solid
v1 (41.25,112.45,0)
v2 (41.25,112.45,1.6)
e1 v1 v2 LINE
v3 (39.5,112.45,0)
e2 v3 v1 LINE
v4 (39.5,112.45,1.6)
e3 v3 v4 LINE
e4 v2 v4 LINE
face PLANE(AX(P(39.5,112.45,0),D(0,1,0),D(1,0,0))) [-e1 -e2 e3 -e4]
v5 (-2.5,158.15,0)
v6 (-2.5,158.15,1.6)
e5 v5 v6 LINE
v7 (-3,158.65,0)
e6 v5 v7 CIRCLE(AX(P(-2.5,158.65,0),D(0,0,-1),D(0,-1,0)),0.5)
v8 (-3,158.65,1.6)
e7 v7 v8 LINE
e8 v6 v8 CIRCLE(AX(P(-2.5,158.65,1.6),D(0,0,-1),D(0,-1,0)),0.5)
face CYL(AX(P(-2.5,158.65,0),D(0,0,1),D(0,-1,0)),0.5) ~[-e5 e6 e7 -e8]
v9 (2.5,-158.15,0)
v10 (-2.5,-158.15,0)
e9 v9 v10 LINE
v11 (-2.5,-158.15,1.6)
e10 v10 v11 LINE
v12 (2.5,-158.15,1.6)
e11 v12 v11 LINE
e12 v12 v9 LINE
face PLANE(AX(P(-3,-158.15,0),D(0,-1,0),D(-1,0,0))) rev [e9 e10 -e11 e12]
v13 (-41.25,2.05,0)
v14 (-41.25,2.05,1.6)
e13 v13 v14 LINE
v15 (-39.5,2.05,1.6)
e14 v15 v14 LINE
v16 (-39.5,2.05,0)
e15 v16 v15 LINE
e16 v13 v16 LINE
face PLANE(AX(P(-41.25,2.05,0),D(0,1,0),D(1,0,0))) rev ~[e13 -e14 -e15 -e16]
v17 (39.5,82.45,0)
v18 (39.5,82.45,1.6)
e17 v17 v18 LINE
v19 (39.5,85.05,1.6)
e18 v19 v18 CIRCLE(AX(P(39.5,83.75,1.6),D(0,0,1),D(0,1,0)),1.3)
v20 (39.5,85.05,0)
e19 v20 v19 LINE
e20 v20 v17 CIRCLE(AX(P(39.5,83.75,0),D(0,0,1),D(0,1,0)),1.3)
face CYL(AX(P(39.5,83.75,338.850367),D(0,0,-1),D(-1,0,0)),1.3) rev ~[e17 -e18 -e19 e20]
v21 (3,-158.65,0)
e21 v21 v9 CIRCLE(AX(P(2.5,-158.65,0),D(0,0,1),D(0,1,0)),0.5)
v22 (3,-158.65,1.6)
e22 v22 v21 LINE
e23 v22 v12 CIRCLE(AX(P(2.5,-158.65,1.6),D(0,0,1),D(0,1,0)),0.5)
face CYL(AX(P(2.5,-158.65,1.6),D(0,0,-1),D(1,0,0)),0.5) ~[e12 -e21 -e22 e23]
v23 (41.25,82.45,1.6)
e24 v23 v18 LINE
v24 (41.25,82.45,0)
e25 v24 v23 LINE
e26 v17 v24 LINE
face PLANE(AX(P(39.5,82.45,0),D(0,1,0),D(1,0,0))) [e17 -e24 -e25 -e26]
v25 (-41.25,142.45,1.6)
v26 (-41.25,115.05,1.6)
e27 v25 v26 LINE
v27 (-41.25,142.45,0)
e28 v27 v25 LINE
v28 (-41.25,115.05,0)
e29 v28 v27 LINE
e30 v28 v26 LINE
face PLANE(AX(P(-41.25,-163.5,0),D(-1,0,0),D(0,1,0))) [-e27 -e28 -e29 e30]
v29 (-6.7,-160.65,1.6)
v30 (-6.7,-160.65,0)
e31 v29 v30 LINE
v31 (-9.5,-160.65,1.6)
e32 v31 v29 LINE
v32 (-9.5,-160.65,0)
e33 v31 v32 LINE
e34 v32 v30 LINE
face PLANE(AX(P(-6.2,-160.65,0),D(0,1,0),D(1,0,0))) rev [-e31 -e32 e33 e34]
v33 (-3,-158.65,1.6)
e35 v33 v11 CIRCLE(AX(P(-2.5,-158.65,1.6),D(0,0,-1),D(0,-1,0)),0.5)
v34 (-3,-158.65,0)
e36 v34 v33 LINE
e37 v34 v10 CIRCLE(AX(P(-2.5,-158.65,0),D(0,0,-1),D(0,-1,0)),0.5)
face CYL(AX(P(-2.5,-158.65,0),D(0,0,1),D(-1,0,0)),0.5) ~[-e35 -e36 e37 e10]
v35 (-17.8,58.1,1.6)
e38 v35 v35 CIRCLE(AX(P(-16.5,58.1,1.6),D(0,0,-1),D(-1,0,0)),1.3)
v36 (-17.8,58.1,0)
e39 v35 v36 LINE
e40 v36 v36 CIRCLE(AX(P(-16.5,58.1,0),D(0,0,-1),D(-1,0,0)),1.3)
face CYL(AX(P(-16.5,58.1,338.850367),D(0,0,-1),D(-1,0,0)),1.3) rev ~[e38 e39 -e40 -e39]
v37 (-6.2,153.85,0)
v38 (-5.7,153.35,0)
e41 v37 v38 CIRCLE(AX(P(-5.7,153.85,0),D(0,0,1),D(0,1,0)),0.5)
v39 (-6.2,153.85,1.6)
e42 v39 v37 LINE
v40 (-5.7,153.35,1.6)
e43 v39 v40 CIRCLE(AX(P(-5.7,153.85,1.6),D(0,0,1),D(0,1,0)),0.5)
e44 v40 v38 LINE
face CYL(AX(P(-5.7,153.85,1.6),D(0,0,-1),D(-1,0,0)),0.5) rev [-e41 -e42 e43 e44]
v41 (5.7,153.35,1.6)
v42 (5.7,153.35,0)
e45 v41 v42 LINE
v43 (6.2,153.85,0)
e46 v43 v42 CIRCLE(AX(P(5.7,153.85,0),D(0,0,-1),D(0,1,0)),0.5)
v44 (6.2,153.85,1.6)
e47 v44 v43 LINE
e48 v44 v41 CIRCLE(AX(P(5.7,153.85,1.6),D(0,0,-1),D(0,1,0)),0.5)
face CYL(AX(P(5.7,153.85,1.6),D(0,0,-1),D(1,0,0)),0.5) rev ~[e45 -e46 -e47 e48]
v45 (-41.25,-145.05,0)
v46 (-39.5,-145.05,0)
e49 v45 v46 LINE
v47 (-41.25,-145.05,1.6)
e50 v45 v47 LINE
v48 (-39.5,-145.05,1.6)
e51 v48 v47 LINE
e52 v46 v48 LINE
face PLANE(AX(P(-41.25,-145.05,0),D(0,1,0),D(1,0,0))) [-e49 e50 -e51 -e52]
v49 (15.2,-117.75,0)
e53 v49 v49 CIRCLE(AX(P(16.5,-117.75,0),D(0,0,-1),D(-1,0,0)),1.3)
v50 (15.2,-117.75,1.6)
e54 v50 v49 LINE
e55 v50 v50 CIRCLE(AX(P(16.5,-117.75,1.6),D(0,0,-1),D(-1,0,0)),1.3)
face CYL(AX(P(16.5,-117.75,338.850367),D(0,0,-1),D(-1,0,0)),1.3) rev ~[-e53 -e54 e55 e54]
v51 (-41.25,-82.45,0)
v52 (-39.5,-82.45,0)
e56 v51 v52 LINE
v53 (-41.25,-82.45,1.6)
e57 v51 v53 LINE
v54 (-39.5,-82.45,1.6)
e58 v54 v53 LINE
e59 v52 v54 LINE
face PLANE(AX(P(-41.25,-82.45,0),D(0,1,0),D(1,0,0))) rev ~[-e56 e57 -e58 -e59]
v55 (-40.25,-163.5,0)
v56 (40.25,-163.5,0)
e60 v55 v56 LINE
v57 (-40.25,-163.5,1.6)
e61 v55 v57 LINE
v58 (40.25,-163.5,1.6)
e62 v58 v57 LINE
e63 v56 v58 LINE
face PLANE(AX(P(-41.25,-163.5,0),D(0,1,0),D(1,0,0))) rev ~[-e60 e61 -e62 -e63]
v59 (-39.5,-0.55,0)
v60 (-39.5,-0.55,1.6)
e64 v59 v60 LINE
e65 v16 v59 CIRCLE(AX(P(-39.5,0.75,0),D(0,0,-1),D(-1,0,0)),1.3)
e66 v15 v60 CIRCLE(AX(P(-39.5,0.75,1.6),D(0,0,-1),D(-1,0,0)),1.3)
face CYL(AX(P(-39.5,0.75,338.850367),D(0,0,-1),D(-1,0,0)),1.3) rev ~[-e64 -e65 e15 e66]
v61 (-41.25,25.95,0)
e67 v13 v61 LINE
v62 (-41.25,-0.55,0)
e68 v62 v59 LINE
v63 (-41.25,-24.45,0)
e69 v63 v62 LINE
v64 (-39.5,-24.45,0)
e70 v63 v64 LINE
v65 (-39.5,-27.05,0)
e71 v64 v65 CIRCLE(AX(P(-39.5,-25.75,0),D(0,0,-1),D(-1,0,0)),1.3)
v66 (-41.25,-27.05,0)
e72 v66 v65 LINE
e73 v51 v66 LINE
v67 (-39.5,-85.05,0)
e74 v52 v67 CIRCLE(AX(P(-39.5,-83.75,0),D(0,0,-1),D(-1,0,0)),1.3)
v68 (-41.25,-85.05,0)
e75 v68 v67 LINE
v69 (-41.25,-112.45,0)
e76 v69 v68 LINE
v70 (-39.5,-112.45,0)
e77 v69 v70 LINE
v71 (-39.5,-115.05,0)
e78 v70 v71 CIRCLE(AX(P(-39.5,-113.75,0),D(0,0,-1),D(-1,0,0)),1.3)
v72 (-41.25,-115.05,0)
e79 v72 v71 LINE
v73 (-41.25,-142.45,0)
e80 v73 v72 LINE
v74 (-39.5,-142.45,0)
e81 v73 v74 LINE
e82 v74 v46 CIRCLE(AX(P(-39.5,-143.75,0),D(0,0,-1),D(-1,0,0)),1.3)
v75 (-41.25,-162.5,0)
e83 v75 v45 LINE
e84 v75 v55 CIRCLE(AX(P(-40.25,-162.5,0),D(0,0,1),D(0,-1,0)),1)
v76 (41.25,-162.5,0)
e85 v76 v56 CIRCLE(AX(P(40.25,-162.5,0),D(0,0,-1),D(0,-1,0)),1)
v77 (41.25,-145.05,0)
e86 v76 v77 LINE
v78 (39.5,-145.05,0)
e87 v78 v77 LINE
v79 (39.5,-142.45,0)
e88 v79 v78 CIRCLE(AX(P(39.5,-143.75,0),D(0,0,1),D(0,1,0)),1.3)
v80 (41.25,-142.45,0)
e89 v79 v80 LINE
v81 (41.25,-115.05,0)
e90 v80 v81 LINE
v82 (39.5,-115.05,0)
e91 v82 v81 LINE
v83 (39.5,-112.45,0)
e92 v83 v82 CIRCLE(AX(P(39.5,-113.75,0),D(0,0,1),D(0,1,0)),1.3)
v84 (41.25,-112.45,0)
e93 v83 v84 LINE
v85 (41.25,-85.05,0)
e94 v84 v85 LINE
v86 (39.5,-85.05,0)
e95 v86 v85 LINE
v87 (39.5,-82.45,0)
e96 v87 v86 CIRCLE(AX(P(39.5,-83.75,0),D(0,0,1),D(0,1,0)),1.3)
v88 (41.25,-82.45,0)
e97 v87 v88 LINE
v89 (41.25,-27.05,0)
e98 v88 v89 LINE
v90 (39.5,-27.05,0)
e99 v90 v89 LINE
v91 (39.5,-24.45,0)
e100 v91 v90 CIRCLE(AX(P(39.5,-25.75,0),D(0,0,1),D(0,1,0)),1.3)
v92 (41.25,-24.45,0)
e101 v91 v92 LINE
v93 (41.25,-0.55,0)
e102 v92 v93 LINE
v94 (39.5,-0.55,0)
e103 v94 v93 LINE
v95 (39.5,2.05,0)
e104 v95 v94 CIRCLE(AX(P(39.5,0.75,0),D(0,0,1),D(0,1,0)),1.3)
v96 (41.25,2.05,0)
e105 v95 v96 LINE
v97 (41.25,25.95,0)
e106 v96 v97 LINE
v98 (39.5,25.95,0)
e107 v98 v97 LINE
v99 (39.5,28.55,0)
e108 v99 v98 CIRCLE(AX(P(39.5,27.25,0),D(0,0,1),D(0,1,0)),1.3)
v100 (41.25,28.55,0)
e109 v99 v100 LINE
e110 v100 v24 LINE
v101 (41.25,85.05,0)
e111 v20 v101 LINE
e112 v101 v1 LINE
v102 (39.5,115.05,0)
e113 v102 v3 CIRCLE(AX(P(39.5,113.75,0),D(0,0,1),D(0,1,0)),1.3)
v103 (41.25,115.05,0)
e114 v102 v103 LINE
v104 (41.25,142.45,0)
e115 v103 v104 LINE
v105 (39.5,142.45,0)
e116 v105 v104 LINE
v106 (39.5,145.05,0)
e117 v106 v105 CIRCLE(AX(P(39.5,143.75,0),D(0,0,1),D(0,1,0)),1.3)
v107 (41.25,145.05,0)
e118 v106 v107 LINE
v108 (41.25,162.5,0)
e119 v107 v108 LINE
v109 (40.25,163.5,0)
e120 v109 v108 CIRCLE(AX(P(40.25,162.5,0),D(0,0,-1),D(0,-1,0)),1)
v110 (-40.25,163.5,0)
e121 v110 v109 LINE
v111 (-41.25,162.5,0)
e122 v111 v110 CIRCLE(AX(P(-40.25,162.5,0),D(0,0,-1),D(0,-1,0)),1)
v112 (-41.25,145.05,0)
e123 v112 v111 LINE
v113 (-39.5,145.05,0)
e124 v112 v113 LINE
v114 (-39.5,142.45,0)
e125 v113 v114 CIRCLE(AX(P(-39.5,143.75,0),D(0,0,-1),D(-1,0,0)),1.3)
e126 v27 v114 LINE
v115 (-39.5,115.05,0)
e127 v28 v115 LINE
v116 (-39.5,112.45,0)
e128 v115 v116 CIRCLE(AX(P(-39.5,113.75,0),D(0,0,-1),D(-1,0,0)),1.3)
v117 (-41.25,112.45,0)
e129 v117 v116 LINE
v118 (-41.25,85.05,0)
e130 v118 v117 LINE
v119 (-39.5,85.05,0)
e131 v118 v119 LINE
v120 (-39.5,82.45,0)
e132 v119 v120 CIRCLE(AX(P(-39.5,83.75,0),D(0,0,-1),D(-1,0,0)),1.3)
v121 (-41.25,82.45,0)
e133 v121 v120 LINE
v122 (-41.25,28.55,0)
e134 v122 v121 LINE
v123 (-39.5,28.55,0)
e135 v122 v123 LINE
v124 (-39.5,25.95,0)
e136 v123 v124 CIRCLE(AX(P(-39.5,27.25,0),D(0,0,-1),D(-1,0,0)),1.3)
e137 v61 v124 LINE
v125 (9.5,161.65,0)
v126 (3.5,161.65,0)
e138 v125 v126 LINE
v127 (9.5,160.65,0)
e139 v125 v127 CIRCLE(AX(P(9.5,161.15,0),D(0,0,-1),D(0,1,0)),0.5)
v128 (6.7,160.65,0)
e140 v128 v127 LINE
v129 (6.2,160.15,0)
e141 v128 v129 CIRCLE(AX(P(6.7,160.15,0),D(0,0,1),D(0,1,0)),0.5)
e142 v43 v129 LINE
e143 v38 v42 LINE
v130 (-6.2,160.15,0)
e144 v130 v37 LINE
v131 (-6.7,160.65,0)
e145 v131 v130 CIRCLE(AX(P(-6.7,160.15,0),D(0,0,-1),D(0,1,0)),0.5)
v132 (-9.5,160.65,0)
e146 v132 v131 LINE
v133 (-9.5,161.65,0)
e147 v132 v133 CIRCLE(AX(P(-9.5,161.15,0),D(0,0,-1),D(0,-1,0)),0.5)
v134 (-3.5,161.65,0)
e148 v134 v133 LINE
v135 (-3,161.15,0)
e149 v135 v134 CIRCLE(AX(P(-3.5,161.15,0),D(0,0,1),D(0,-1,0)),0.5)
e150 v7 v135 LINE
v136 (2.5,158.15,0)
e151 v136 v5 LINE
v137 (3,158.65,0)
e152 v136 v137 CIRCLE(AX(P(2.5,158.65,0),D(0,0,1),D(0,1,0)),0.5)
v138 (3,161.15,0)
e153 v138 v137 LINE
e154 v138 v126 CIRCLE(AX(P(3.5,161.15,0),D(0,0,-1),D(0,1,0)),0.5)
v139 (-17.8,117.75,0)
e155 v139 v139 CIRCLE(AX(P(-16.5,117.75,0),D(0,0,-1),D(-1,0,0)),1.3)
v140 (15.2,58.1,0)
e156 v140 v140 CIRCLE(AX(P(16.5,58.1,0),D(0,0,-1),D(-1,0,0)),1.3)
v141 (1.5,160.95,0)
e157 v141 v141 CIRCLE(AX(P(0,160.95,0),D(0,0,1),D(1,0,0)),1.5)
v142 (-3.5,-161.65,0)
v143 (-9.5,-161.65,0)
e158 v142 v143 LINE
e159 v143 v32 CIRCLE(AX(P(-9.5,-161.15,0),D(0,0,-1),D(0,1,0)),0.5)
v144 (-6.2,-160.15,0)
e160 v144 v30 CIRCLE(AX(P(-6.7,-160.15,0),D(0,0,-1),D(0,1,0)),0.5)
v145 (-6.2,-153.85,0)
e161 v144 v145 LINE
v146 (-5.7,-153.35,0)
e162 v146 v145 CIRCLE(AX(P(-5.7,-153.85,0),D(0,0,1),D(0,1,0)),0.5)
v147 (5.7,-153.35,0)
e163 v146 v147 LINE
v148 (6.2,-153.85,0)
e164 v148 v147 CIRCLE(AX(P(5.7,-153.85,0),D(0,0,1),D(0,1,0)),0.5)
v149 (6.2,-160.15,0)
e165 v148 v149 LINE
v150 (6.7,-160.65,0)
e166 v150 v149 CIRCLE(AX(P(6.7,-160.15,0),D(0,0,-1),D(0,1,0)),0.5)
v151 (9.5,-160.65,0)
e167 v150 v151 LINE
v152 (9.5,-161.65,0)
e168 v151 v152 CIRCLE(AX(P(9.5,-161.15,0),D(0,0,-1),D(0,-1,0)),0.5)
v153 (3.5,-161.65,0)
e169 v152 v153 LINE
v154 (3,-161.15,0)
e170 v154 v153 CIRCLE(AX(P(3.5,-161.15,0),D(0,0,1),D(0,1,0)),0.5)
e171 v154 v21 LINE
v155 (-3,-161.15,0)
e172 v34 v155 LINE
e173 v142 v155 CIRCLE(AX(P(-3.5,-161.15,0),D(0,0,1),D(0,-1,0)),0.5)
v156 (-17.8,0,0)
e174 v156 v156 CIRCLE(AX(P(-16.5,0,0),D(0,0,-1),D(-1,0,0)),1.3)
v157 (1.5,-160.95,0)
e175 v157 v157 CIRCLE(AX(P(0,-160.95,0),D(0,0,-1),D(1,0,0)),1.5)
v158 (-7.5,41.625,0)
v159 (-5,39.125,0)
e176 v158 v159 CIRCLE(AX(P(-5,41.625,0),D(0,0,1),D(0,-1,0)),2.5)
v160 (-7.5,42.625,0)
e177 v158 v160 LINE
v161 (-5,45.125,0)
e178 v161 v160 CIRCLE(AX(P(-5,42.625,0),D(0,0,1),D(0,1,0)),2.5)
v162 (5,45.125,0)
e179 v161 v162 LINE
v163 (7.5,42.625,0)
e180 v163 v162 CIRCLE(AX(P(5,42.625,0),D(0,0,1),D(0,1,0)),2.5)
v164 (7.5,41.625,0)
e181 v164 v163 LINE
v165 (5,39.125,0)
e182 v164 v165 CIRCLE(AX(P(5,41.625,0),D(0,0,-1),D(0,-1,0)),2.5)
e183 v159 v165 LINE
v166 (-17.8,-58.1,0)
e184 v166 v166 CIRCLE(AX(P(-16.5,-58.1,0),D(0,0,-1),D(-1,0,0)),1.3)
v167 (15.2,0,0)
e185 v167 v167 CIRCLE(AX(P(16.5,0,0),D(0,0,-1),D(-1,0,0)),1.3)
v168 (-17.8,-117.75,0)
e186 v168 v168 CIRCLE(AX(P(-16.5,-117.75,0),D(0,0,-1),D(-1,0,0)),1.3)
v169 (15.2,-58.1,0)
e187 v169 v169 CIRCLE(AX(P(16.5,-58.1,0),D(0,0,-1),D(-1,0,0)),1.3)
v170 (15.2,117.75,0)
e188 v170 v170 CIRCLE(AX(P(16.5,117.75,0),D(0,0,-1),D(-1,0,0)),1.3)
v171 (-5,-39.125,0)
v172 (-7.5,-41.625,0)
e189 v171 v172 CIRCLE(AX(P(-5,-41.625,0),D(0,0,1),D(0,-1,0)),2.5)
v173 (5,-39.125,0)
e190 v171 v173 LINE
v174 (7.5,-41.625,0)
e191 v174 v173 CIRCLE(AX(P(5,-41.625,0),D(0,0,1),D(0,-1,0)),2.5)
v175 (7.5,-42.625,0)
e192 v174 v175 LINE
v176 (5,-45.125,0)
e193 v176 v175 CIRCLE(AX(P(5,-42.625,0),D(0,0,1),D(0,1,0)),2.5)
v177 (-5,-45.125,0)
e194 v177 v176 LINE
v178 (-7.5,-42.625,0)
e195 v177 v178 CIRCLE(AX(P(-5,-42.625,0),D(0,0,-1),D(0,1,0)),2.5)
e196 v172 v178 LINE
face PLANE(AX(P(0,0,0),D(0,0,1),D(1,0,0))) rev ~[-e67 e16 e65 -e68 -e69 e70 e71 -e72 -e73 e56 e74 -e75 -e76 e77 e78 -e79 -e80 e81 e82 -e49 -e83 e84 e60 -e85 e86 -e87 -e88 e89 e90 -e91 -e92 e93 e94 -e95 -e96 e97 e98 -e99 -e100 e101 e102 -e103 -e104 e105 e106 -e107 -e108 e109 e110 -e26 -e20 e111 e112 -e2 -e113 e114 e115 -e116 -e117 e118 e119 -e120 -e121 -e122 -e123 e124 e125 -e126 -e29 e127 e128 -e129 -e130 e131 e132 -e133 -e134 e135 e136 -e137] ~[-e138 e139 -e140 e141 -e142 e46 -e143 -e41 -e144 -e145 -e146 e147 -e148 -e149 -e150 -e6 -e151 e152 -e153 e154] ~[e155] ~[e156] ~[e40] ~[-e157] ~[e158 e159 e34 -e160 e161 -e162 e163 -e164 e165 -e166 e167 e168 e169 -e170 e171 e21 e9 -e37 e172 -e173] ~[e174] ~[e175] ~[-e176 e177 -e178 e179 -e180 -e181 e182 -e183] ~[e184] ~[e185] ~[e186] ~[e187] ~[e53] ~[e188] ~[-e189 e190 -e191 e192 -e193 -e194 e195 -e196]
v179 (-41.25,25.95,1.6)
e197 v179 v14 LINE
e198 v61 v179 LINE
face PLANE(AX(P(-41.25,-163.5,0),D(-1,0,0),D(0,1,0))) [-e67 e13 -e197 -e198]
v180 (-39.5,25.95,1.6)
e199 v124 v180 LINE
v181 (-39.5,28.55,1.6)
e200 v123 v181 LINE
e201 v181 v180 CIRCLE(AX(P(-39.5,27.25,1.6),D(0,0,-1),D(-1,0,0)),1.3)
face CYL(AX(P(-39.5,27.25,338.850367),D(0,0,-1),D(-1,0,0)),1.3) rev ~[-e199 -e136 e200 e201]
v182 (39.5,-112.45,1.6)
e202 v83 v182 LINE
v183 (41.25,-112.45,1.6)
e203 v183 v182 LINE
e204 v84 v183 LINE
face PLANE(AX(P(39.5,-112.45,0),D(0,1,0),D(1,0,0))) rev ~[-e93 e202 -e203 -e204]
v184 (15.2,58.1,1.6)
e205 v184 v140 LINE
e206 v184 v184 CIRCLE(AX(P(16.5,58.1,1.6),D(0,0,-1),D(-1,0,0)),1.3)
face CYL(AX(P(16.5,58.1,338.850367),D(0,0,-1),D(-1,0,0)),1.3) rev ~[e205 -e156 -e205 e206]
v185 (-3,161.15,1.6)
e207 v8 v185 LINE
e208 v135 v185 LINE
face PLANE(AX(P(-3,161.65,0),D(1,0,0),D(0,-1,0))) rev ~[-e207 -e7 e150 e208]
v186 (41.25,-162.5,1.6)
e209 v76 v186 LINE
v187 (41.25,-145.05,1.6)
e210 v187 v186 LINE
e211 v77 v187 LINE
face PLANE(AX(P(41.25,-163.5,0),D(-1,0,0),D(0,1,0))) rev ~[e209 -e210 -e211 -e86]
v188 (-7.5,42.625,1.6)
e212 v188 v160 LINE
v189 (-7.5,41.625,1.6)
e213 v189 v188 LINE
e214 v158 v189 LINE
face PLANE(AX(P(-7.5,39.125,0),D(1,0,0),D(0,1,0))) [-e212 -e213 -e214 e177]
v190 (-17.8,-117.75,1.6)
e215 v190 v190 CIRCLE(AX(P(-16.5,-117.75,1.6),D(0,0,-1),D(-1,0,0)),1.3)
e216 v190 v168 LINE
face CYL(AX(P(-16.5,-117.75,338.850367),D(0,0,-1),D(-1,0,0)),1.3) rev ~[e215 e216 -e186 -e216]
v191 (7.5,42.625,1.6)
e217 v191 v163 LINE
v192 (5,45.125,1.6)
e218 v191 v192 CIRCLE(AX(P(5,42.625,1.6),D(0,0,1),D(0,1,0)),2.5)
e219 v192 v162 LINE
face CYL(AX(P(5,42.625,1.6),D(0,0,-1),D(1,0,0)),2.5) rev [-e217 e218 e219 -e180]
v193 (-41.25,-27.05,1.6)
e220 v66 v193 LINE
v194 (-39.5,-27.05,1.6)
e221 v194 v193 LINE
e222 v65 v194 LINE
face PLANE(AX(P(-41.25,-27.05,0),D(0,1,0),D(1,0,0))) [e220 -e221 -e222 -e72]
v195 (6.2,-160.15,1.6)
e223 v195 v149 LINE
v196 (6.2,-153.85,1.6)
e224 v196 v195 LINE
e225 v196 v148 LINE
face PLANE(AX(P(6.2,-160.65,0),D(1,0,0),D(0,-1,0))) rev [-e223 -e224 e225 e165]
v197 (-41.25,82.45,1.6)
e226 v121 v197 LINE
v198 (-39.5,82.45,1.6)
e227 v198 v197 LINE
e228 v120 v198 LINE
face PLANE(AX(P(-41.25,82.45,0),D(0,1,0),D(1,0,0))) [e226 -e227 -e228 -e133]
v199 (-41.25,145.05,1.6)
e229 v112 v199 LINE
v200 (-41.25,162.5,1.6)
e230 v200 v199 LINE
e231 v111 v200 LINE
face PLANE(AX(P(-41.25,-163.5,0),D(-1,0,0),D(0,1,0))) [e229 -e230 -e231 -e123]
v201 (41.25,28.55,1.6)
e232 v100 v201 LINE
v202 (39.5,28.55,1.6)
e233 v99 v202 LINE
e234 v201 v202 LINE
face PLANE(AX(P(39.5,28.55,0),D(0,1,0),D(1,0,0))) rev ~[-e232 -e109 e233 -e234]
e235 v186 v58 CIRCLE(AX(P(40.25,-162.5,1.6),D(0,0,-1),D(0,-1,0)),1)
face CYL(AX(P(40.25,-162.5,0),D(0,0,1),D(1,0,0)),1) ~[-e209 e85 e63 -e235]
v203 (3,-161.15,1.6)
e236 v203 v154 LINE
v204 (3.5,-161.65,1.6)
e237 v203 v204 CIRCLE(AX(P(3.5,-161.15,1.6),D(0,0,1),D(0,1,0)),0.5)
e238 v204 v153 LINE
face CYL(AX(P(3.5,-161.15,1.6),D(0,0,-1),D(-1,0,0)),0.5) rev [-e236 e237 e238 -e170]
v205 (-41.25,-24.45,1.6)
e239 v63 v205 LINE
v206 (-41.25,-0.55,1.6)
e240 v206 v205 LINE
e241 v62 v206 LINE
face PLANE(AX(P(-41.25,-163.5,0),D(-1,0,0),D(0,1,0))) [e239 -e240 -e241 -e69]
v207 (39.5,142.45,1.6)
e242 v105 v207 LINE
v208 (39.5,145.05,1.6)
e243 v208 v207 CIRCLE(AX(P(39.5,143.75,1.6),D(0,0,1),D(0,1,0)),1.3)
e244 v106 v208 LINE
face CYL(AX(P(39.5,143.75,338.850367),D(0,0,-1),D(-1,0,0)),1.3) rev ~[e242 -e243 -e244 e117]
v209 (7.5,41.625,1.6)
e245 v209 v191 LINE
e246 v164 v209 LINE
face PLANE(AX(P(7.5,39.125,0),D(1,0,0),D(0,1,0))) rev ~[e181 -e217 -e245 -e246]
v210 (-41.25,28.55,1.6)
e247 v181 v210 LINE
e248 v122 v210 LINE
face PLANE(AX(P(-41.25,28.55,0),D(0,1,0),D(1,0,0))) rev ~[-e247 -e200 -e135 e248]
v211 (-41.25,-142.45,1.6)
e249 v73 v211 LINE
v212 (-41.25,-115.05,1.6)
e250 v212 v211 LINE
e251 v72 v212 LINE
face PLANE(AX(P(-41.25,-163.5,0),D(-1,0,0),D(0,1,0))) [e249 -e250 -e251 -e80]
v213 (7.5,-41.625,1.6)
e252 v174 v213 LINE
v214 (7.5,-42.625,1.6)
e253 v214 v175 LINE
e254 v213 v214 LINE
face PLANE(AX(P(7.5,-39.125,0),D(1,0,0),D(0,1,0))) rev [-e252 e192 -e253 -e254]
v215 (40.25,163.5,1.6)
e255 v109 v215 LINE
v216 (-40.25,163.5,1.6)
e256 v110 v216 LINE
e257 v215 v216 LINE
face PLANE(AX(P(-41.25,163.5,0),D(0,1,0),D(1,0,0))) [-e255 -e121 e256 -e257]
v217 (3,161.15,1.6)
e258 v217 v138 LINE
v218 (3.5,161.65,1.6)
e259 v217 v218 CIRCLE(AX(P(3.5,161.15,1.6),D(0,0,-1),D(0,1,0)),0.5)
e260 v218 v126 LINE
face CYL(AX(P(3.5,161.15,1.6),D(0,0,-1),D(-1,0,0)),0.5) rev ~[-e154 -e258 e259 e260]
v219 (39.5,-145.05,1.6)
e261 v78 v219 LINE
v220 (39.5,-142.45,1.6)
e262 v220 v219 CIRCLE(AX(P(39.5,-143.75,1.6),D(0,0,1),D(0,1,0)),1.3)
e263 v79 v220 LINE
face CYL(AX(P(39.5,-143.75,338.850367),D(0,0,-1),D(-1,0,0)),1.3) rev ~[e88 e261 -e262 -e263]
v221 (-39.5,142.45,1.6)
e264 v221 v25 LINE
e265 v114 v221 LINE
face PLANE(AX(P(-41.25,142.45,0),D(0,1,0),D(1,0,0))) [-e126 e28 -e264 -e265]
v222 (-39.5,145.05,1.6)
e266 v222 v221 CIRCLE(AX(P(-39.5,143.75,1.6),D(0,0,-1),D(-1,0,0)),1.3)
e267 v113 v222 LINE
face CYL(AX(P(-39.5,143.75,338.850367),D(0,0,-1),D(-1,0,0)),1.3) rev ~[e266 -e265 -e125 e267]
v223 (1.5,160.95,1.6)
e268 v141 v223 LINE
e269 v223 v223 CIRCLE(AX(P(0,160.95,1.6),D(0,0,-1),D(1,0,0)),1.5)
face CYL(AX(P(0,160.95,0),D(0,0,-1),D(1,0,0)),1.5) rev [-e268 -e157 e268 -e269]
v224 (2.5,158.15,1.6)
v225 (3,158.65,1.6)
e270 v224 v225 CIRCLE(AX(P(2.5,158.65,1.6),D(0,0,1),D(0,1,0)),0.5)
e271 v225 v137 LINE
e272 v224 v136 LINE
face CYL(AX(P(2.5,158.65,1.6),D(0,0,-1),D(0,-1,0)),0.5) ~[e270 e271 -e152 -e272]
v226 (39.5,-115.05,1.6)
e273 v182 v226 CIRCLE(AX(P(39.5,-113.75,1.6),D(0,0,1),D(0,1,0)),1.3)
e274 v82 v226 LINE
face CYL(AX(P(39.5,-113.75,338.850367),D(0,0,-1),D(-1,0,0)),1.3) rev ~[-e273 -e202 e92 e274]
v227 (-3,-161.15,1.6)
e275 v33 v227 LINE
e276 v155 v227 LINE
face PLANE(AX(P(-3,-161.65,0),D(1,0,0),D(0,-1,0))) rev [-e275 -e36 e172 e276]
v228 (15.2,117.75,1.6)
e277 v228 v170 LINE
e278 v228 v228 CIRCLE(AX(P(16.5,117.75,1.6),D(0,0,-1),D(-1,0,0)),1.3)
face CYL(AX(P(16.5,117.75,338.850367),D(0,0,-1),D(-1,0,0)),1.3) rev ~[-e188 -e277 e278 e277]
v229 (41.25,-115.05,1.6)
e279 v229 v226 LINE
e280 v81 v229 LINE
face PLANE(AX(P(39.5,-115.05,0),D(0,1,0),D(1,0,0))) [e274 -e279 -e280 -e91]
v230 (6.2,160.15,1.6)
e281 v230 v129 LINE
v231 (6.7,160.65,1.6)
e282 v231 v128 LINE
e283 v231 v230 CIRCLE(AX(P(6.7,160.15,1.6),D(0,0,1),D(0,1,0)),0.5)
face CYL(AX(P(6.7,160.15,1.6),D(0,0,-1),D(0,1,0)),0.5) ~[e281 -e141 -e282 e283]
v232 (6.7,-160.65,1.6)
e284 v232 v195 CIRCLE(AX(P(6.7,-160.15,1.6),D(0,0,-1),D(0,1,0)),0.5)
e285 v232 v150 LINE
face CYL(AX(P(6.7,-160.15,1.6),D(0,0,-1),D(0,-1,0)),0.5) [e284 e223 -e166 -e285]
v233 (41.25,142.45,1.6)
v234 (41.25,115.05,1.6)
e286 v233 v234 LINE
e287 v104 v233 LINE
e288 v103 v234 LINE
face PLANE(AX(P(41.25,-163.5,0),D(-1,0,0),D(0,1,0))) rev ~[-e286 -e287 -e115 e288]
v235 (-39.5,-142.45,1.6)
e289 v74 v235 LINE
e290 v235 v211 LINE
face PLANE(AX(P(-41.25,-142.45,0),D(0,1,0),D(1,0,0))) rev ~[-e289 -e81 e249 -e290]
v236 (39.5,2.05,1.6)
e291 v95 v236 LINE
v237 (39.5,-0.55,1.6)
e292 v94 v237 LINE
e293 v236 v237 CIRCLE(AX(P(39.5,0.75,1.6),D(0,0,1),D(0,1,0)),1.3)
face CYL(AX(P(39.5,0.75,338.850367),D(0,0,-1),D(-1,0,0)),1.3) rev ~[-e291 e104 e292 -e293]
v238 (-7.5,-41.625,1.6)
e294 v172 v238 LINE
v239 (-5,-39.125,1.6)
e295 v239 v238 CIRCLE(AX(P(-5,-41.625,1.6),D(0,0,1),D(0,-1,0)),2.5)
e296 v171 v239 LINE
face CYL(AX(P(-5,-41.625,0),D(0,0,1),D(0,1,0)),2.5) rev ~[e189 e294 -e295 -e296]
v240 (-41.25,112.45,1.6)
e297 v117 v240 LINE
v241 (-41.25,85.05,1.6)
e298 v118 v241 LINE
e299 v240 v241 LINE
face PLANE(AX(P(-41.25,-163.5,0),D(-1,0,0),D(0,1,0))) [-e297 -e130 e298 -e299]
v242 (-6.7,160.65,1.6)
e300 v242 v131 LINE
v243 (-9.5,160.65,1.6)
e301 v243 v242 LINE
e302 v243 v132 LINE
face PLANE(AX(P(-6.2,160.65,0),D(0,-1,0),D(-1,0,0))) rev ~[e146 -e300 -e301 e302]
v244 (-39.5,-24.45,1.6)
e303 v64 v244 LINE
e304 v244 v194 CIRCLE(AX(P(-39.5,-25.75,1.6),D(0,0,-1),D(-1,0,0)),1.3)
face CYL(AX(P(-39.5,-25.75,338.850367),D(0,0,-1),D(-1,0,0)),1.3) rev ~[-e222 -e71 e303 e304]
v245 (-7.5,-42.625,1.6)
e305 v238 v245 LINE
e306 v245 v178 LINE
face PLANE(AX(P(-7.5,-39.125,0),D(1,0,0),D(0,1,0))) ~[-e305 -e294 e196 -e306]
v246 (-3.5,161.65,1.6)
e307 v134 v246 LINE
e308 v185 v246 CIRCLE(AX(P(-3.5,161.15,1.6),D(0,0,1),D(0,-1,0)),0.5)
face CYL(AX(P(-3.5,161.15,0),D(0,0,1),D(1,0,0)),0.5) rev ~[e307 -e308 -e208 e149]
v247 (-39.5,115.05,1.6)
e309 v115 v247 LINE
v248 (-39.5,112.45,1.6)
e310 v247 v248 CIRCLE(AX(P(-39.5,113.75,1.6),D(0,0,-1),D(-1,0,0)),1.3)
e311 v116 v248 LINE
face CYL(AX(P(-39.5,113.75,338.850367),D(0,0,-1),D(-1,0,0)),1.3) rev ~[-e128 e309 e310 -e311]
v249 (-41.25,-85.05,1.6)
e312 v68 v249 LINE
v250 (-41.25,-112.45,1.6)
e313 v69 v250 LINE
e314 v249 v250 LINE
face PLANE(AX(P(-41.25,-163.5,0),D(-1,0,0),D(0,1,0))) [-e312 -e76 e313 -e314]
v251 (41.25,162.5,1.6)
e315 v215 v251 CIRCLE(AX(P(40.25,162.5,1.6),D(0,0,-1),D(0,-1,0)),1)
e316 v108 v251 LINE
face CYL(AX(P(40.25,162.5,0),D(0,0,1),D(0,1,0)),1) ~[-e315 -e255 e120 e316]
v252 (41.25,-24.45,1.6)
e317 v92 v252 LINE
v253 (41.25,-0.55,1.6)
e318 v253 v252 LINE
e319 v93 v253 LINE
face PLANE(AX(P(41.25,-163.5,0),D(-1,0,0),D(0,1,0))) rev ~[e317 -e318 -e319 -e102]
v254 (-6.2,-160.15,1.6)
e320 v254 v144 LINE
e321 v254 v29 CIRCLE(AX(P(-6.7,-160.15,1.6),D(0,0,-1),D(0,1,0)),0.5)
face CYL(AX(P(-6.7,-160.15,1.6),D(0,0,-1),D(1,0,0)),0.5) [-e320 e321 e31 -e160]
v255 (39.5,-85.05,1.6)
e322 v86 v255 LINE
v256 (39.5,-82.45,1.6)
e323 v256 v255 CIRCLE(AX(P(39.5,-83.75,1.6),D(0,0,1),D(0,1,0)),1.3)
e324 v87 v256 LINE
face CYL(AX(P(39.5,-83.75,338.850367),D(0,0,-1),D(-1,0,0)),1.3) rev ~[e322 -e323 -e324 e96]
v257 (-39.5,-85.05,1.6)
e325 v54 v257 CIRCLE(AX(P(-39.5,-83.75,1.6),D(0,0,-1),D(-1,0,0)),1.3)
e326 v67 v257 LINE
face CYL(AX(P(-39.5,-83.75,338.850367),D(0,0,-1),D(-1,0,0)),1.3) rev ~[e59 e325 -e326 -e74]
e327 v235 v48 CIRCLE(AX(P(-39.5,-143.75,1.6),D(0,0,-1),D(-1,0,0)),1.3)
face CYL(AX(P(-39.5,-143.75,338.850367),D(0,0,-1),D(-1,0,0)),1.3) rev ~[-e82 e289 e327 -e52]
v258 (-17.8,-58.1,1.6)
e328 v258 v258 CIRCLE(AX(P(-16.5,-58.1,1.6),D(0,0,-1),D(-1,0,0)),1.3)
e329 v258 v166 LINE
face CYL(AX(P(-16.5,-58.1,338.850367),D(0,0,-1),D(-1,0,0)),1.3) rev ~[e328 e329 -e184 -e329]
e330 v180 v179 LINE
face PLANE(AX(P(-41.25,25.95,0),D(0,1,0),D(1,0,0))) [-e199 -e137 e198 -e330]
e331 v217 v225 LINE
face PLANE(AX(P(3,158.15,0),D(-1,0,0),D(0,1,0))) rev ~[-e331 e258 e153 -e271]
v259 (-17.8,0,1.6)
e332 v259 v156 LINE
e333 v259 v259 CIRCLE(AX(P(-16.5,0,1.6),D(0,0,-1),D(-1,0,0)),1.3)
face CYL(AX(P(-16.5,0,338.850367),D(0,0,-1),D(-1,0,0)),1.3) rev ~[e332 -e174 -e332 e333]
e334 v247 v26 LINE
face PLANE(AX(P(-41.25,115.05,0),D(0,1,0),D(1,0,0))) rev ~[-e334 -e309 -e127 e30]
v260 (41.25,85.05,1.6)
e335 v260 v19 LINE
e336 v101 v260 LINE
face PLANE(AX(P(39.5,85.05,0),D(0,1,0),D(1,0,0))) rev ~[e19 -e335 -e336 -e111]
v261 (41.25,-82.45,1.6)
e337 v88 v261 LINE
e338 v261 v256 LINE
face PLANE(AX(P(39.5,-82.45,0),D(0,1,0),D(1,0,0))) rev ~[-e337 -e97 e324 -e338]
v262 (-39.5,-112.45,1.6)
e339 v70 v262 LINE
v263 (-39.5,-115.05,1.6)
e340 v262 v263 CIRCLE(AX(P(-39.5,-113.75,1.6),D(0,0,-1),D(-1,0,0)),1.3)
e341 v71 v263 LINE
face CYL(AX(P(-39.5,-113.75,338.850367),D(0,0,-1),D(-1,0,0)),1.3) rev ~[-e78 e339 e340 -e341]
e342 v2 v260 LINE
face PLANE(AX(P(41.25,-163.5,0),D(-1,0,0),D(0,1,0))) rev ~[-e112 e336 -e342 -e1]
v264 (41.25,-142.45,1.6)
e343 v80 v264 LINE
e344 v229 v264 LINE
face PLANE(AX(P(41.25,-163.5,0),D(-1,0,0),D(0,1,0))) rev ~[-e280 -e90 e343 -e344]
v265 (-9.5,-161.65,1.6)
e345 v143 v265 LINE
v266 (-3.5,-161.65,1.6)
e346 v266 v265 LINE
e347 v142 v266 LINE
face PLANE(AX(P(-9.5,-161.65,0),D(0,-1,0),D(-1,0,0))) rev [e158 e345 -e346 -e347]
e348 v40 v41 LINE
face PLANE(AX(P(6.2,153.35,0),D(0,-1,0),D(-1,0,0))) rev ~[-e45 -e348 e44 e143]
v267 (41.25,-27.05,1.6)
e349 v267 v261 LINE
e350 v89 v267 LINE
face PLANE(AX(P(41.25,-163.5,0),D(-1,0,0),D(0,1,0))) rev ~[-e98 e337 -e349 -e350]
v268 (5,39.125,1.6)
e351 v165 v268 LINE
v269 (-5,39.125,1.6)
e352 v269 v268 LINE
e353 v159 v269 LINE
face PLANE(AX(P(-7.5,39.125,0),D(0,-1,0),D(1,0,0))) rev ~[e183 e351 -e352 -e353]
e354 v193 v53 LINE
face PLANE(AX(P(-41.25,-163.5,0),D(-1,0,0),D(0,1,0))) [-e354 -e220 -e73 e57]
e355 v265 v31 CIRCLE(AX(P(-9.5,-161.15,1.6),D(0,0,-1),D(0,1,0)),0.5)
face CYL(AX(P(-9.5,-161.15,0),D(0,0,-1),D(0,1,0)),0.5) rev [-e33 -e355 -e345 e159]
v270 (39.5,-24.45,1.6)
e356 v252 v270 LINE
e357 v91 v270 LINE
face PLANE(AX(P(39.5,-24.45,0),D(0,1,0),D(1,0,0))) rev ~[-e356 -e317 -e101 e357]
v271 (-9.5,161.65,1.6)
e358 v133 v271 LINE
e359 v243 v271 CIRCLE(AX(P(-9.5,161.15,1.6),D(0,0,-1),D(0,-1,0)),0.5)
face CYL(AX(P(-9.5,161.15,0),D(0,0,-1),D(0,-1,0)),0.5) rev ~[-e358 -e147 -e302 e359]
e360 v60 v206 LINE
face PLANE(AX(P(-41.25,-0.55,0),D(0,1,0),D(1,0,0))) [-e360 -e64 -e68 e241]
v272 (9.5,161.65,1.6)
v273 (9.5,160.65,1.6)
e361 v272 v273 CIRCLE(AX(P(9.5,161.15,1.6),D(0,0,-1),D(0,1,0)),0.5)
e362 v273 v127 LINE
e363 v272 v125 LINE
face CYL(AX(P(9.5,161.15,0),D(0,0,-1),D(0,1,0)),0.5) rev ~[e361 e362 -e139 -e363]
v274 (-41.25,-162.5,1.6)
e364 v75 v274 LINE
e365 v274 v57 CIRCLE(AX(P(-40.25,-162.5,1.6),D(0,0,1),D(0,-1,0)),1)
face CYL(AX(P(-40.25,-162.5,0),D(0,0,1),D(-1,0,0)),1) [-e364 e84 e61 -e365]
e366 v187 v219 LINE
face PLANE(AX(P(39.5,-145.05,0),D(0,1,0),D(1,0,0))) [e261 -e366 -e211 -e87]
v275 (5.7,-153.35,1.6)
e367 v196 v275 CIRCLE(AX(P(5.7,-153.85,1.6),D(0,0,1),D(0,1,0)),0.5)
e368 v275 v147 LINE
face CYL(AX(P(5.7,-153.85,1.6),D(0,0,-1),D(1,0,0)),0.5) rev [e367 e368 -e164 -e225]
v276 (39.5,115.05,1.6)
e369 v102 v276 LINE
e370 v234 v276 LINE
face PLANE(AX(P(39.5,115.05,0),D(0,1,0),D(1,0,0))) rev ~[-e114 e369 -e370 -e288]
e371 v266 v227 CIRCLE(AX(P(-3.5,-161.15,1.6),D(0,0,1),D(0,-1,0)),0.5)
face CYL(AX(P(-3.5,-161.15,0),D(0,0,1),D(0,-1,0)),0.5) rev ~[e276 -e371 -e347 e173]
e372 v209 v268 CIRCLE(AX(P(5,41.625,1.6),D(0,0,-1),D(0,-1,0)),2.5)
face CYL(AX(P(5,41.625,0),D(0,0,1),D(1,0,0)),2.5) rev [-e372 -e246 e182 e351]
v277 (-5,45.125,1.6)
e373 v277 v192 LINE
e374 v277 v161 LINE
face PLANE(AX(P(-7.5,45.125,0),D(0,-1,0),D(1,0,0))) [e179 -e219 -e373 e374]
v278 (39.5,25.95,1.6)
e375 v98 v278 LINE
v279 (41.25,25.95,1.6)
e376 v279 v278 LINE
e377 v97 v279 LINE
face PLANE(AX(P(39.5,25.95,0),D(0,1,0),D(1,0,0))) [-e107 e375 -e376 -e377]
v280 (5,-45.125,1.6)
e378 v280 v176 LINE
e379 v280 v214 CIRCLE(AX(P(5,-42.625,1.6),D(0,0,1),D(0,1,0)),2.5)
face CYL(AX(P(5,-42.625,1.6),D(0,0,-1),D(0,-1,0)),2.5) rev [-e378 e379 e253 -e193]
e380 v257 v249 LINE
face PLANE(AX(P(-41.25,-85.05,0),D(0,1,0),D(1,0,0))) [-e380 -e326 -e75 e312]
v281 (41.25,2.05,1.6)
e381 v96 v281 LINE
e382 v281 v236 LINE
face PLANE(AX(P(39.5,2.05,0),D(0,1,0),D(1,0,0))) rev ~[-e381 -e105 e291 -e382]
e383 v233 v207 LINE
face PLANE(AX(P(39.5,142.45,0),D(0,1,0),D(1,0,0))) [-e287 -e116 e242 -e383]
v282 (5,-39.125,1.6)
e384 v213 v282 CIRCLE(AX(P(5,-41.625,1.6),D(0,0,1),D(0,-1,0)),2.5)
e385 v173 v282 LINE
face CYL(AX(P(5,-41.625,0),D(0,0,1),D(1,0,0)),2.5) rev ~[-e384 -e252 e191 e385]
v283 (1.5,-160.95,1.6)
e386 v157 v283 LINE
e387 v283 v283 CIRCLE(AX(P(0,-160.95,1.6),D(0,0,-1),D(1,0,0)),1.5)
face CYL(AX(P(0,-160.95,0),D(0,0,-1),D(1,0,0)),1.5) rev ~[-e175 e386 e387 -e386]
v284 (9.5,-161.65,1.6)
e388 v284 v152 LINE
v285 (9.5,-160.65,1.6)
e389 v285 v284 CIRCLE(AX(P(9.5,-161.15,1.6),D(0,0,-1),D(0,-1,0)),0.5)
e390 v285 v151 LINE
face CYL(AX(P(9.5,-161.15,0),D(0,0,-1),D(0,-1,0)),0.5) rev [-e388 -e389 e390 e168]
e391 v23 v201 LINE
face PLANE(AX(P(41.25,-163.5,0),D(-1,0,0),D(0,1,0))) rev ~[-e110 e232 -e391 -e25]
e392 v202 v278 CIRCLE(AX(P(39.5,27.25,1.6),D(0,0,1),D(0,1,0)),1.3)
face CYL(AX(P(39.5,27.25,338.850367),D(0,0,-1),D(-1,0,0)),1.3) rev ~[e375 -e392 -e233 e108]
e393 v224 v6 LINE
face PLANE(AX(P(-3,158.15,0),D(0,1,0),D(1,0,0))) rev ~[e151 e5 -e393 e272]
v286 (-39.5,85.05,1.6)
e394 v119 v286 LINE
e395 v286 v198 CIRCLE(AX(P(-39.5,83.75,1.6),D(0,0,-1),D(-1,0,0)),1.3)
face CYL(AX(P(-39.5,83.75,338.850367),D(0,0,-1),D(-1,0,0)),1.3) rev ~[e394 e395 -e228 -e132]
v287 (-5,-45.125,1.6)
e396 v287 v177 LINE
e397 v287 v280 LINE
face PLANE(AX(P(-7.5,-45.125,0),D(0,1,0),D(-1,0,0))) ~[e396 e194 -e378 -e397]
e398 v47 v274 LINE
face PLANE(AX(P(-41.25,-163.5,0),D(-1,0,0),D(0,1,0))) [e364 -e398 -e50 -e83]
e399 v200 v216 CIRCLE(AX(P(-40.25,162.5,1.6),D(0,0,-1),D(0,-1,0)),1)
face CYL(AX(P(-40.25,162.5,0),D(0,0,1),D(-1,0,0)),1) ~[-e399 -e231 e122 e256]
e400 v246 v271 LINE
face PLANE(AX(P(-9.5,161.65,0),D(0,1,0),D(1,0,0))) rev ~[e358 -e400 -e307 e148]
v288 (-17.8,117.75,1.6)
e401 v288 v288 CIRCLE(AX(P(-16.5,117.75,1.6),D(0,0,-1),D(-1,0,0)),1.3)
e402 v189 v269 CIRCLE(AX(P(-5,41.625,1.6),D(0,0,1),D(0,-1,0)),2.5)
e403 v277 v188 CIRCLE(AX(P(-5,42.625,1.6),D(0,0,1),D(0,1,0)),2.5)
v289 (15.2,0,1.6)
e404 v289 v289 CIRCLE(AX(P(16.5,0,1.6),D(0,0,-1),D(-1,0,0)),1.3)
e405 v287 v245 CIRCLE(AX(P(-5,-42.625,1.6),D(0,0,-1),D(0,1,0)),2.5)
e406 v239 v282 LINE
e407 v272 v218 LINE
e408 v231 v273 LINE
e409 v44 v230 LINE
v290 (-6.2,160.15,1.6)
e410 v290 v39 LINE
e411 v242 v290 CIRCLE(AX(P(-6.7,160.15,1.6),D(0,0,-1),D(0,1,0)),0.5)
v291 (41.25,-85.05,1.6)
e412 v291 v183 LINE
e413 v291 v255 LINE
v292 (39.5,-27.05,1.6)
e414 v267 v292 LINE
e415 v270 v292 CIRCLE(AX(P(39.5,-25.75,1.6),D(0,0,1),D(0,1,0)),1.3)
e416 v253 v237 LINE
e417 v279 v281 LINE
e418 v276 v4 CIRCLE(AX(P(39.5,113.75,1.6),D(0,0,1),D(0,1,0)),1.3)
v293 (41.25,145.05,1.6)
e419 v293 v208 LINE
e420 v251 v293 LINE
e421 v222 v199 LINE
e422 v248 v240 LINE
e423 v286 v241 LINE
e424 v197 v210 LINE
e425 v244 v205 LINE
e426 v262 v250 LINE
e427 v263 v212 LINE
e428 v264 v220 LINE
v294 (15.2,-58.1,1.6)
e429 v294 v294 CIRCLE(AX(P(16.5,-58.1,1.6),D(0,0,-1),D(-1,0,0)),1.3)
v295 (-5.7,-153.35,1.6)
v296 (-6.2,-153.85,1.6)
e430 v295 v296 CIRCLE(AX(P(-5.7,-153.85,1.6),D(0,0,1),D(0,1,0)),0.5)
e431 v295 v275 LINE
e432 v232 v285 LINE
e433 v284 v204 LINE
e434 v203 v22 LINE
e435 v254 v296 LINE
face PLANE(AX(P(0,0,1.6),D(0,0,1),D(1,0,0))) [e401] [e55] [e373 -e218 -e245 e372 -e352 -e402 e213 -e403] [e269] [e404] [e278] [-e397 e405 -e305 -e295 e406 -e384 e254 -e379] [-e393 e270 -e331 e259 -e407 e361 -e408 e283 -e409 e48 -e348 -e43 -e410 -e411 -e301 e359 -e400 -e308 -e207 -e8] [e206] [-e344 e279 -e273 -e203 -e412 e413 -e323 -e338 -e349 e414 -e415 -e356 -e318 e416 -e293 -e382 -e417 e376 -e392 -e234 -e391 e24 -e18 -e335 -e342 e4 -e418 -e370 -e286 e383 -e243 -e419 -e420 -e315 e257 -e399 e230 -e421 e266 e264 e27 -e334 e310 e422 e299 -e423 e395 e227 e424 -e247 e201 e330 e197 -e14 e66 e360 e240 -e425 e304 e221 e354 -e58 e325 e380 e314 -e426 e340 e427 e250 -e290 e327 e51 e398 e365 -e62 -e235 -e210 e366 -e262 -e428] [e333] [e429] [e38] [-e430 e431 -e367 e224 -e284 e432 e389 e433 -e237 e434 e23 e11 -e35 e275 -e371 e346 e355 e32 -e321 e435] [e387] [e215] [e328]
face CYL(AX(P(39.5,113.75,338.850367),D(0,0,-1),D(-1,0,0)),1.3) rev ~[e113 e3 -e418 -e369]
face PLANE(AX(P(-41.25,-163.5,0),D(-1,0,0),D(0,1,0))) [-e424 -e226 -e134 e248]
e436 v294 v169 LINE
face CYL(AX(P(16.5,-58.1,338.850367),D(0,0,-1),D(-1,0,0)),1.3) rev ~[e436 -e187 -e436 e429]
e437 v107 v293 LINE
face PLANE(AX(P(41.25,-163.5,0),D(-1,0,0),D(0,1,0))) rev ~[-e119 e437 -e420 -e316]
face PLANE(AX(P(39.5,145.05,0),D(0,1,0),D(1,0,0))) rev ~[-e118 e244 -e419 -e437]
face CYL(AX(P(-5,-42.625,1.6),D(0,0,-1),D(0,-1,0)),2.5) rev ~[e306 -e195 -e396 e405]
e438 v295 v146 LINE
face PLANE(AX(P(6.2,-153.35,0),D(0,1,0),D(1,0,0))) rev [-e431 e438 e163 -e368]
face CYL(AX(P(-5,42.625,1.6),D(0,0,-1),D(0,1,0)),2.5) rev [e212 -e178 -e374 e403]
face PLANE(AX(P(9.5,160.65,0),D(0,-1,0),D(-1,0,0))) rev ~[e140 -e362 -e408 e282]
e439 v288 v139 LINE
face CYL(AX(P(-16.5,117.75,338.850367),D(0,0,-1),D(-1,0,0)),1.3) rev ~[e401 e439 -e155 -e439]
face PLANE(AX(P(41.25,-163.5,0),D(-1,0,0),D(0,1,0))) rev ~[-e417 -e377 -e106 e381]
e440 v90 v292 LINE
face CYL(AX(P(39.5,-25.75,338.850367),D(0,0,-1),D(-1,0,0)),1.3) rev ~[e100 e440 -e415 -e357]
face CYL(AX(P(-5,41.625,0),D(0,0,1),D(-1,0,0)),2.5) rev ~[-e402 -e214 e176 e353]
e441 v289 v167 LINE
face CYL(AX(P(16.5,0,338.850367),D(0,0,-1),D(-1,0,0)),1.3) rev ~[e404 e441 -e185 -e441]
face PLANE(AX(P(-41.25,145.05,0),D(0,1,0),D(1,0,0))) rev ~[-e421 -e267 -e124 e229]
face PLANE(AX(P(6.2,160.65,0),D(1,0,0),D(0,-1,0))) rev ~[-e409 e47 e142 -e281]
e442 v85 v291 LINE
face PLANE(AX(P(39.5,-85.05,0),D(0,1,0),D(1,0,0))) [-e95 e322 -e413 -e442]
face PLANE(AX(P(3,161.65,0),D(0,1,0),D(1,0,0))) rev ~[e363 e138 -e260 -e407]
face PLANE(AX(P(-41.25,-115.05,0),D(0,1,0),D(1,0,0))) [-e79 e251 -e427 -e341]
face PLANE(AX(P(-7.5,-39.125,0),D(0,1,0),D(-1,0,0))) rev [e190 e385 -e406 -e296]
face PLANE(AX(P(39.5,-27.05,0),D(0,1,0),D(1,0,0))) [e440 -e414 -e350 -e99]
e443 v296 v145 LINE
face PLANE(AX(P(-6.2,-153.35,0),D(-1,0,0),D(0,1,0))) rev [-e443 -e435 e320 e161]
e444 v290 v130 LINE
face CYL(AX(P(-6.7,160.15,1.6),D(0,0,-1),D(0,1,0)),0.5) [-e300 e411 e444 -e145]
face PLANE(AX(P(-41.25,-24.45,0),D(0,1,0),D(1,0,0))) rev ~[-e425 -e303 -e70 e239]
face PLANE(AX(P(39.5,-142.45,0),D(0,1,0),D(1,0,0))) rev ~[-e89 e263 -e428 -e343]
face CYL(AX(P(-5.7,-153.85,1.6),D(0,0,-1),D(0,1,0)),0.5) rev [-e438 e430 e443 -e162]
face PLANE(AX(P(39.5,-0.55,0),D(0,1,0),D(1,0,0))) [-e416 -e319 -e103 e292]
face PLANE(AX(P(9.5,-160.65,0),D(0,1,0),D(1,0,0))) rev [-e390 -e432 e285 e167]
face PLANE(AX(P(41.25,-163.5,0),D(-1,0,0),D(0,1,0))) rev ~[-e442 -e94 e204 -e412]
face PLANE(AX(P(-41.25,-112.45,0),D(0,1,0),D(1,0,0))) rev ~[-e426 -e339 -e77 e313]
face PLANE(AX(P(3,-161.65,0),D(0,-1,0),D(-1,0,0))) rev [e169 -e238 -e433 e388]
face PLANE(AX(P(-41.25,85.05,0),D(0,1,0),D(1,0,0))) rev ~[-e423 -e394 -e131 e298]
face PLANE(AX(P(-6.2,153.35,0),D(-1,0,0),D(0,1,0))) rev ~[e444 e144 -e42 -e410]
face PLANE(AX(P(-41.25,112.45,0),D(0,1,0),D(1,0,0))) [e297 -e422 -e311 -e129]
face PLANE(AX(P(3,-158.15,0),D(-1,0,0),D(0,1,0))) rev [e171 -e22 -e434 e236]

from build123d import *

# Parameters (mm, degrees)
SKETCH1_W            = 82.8
SKETCH1_H            = 327.3
PCB_EXTRUDE_DEPTH    = 1.6
SKETCH2_W            = 82.8
SKETCH2_H            = 327.3
SKETCH2_W_2          = 82.5
SKETCH2_H_2          = 327
OFFSET_EDGES_DEPTH   = 10
CORNER_FILLETS_R     = 1
SKETCH3_R            = 1.5
SKETCH3_W            = 15
SKETCH3_H            = 6
SOLAR_HOLE_DEPTH     = 169.630876473
SOLAR_HOLE_FILLET_R  = 0.5
M2_CLEARANCE_HOLE1_D = 2.6
SKETCH9_W            = 1.75
SKETCH9_H            = 2.6
CUT_EXTRUDE1_DEPTH   = 169.630876473
FILLET1_R            = 2.5


with BuildPart() as part:
    # Sketch1 → PCB extrude (new body)
    with BuildSketch(Plane.XY):
        Rectangle(SKETCH1_W, SKETCH1_H)
    extrude(amount=PCB_EXTRUDE_DEPTH)

    # Sketch2 → offset edges (cut)
    with BuildSketch(Plane.XY):
        Rectangle(SKETCH2_W, SKETCH2_H)
        Rectangle(SKETCH2_W_2, SKETCH2_H_2, mode=Mode.SUBTRACT)
    extrude(amount=OFFSET_EDGES_DEPTH, mode=Mode.SUBTRACT)

    # corner fillets
    corner_fillets_edges = [part.edges().sort_by_distance(p)[0] for p in [
        (41.25, 163.5, 0.8),
        (-41.25, 163.5, 0.8),
        (-41.25, -163.5, 0.8),
        (41.25, -163.5, 0.8),
    ]]
    fillet(corner_fillets_edges, radius=CORNER_FILLETS_R)

    # Sketch3 → Solar hole (cut, symmetric)
    with BuildSketch(Plane.XY):
        with Locations((0, 160.95)):
            Circle(SKETCH3_R)
        with BuildLine():
            Line((-2.999999999, 158.15), (2.999999999, 158.15))
            Line((2.999999999, 158.15), (2.999999999, 161.65))
            Line((2.999999999, 161.65), (9.5, 161.65))
            ThreePointArc((9.5, 161.65), (10, 161.15), (9.5, 160.65))
            Line((9.5, 160.65), (6.2, 160.65))
            Line((6.2, 160.65), (6.2, 153.35))
            Line((6.2, 153.35), (-6.2, 153.35))
            Line((-6.2, 153.35), (-6.2, 160.65))
            Line((-6.2, 160.65), (-9.5, 160.65))
            ThreePointArc((-9.5, 160.65), (-10, 161.15), (-9.5, 161.65))
            Line((-9.5, 161.65), (-2.999999999, 161.65))
            Line((-2.999999999, 161.65), (-2.999999999, 158.15))
        make_face()
        with Locations((0, 42.125)):
            Rectangle(SKETCH3_W, SKETCH3_H)
    solar_hole = extrude(amount=SOLAR_HOLE_DEPTH, both=True, mode=Mode.SUBTRACT)

    # Solar hole mirror: Solar hole across plane
    add(solar_hole.mirror(Plane.ZX), mode=Mode.SUBTRACT)

    # Solar Hole Fillet
    solar_hole_fillet_edges = [part.edges().sort_by_distance(p)[0] for p in [
        (2.999999999, 161.65, 0.8),
        (2.999999999, 158.15, 0.8),
        (-2.999999999, 158.15, 0.8),
        (-2.999999999, 161.65, 0.8),
        (-6.2, 160.65, 0.8),
        (-6.2, 153.35, 0.8),
        (6.2, 153.35, 0.8),
        (6.2, 160.65, 0.8),
        (6.2, -160.65, 0.8),
        (6.2, -153.35, 0.8),
        (-6.2, -153.35, 0.8),
        (-6.2, -160.65, 0.8),
        (-2.999999999, -161.65, 0.8),
        (-2.999999999, -158.15, 0.8),
        (2.999999999, -158.15, 0.8),
        (2.999999999, -161.65, 0.8),
    ]]
    fillet(solar_hole_fillet_edges, radius=SOLAR_HOLE_FILLET_R)

    # M2 Clearance Hole1 (through all)
    with Locations(Plane.XY.offset(1.6)):
        with Locations((-39.5, 143.75), (-39.5, 113.75), (-39.5, 83.75), (-39.5, 27.25), (-39.5, 0.75), (-39.5, -25.75), (-39.5, -83.75), (-39.5, -113.75), (-39.5, -143.75), (-16.5, -117.75), (16.5, -117.75), (39.5, -143.75), (39.5, -113.75), (39.5, -83.75), (16.5, -58.1), (-16.5, -58.1), (39.5, -25.75), (39.5, 0.75), (16.5, 0), (-16.5, 0), (39.5, 27.25), (16.5, 58.1), (-16.5, 58.1), (16.5, 117.75), (-16.5, 117.75), (39.5, 83.75), (39.5, 113.75), (39.5, 143.75)):
            Hole(M2_CLEARANCE_HOLE1_D / 2)

    # Sketch9 → Cut-Extrude1 (cut, through all)
    with BuildSketch(Plane.XY):
        with Locations((-40.375, 143.75)):
            Rectangle(SKETCH9_W, SKETCH9_H)
        with Locations((40.375, 143.75)):
            Rectangle(SKETCH9_W, SKETCH9_H)
        with Locations((40.375, 113.75)):
            Rectangle(SKETCH9_W, SKETCH9_H)
        with Locations((40.375, 83.75)):
            Rectangle(SKETCH9_W, SKETCH9_H)
        with Locations((-40.375, 113.75)):
            Rectangle(SKETCH9_W, SKETCH9_H)
        with Locations((-40.375, 83.75)):
            Rectangle(SKETCH9_W, SKETCH9_H)
        with Locations((40.375, 27.25)):
            Rectangle(SKETCH9_W, SKETCH9_H)
        with Locations((-40.375, 27.25)):
            Rectangle(SKETCH9_W, SKETCH9_H)
        with Locations((40.375, 0.75)):
            Rectangle(SKETCH9_W, SKETCH9_H)
        with Locations((-40.375, 0.75)):
            Rectangle(SKETCH9_W, SKETCH9_H)
        with Locations((40.375, -25.75)):
            Rectangle(SKETCH9_W, SKETCH9_H)
        with Locations((-40.375, -25.75)):
            Rectangle(SKETCH9_W, SKETCH9_H)
        with Locations((40.375, -83.75)):
            Rectangle(SKETCH9_W, SKETCH9_H)
        with Locations((-40.375, -83.75)):
            Rectangle(SKETCH9_W, SKETCH9_H)
        with Locations((40.375, -113.75)):
            Rectangle(SKETCH9_W, SKETCH9_H)
        with Locations((-40.375, -113.75)):
            Rectangle(SKETCH9_W, SKETCH9_H)
        with Locations((40.375, -143.75)):
            Rectangle(SKETCH9_W, SKETCH9_H)
        with Locations((-40.375, -143.75)):
            Rectangle(SKETCH9_W, SKETCH9_H)
    extrude(amount=CUT_EXTRUDE1_DEPTH, mode=Mode.SUBTRACT)

    # Fillet1
    fillet1_edges = [part.edges().sort_by_distance(p)[0] for p in [
        (-7.5, -39.125, 0.8),
        (-7.5, -45.125, 0.8),
        (7.5, -45.125, 0.8),
        (7.5, -39.125, 0.8),
        (-7.5, 45.125, 0.8),
        (-7.5, 39.125, 0.8),
        (7.5, 39.125, 0.8),
        (7.5, 45.125, 0.8),
    ]]
    fillet(fillet1_edges, radius=FILLET1_R)


solid = part.part
